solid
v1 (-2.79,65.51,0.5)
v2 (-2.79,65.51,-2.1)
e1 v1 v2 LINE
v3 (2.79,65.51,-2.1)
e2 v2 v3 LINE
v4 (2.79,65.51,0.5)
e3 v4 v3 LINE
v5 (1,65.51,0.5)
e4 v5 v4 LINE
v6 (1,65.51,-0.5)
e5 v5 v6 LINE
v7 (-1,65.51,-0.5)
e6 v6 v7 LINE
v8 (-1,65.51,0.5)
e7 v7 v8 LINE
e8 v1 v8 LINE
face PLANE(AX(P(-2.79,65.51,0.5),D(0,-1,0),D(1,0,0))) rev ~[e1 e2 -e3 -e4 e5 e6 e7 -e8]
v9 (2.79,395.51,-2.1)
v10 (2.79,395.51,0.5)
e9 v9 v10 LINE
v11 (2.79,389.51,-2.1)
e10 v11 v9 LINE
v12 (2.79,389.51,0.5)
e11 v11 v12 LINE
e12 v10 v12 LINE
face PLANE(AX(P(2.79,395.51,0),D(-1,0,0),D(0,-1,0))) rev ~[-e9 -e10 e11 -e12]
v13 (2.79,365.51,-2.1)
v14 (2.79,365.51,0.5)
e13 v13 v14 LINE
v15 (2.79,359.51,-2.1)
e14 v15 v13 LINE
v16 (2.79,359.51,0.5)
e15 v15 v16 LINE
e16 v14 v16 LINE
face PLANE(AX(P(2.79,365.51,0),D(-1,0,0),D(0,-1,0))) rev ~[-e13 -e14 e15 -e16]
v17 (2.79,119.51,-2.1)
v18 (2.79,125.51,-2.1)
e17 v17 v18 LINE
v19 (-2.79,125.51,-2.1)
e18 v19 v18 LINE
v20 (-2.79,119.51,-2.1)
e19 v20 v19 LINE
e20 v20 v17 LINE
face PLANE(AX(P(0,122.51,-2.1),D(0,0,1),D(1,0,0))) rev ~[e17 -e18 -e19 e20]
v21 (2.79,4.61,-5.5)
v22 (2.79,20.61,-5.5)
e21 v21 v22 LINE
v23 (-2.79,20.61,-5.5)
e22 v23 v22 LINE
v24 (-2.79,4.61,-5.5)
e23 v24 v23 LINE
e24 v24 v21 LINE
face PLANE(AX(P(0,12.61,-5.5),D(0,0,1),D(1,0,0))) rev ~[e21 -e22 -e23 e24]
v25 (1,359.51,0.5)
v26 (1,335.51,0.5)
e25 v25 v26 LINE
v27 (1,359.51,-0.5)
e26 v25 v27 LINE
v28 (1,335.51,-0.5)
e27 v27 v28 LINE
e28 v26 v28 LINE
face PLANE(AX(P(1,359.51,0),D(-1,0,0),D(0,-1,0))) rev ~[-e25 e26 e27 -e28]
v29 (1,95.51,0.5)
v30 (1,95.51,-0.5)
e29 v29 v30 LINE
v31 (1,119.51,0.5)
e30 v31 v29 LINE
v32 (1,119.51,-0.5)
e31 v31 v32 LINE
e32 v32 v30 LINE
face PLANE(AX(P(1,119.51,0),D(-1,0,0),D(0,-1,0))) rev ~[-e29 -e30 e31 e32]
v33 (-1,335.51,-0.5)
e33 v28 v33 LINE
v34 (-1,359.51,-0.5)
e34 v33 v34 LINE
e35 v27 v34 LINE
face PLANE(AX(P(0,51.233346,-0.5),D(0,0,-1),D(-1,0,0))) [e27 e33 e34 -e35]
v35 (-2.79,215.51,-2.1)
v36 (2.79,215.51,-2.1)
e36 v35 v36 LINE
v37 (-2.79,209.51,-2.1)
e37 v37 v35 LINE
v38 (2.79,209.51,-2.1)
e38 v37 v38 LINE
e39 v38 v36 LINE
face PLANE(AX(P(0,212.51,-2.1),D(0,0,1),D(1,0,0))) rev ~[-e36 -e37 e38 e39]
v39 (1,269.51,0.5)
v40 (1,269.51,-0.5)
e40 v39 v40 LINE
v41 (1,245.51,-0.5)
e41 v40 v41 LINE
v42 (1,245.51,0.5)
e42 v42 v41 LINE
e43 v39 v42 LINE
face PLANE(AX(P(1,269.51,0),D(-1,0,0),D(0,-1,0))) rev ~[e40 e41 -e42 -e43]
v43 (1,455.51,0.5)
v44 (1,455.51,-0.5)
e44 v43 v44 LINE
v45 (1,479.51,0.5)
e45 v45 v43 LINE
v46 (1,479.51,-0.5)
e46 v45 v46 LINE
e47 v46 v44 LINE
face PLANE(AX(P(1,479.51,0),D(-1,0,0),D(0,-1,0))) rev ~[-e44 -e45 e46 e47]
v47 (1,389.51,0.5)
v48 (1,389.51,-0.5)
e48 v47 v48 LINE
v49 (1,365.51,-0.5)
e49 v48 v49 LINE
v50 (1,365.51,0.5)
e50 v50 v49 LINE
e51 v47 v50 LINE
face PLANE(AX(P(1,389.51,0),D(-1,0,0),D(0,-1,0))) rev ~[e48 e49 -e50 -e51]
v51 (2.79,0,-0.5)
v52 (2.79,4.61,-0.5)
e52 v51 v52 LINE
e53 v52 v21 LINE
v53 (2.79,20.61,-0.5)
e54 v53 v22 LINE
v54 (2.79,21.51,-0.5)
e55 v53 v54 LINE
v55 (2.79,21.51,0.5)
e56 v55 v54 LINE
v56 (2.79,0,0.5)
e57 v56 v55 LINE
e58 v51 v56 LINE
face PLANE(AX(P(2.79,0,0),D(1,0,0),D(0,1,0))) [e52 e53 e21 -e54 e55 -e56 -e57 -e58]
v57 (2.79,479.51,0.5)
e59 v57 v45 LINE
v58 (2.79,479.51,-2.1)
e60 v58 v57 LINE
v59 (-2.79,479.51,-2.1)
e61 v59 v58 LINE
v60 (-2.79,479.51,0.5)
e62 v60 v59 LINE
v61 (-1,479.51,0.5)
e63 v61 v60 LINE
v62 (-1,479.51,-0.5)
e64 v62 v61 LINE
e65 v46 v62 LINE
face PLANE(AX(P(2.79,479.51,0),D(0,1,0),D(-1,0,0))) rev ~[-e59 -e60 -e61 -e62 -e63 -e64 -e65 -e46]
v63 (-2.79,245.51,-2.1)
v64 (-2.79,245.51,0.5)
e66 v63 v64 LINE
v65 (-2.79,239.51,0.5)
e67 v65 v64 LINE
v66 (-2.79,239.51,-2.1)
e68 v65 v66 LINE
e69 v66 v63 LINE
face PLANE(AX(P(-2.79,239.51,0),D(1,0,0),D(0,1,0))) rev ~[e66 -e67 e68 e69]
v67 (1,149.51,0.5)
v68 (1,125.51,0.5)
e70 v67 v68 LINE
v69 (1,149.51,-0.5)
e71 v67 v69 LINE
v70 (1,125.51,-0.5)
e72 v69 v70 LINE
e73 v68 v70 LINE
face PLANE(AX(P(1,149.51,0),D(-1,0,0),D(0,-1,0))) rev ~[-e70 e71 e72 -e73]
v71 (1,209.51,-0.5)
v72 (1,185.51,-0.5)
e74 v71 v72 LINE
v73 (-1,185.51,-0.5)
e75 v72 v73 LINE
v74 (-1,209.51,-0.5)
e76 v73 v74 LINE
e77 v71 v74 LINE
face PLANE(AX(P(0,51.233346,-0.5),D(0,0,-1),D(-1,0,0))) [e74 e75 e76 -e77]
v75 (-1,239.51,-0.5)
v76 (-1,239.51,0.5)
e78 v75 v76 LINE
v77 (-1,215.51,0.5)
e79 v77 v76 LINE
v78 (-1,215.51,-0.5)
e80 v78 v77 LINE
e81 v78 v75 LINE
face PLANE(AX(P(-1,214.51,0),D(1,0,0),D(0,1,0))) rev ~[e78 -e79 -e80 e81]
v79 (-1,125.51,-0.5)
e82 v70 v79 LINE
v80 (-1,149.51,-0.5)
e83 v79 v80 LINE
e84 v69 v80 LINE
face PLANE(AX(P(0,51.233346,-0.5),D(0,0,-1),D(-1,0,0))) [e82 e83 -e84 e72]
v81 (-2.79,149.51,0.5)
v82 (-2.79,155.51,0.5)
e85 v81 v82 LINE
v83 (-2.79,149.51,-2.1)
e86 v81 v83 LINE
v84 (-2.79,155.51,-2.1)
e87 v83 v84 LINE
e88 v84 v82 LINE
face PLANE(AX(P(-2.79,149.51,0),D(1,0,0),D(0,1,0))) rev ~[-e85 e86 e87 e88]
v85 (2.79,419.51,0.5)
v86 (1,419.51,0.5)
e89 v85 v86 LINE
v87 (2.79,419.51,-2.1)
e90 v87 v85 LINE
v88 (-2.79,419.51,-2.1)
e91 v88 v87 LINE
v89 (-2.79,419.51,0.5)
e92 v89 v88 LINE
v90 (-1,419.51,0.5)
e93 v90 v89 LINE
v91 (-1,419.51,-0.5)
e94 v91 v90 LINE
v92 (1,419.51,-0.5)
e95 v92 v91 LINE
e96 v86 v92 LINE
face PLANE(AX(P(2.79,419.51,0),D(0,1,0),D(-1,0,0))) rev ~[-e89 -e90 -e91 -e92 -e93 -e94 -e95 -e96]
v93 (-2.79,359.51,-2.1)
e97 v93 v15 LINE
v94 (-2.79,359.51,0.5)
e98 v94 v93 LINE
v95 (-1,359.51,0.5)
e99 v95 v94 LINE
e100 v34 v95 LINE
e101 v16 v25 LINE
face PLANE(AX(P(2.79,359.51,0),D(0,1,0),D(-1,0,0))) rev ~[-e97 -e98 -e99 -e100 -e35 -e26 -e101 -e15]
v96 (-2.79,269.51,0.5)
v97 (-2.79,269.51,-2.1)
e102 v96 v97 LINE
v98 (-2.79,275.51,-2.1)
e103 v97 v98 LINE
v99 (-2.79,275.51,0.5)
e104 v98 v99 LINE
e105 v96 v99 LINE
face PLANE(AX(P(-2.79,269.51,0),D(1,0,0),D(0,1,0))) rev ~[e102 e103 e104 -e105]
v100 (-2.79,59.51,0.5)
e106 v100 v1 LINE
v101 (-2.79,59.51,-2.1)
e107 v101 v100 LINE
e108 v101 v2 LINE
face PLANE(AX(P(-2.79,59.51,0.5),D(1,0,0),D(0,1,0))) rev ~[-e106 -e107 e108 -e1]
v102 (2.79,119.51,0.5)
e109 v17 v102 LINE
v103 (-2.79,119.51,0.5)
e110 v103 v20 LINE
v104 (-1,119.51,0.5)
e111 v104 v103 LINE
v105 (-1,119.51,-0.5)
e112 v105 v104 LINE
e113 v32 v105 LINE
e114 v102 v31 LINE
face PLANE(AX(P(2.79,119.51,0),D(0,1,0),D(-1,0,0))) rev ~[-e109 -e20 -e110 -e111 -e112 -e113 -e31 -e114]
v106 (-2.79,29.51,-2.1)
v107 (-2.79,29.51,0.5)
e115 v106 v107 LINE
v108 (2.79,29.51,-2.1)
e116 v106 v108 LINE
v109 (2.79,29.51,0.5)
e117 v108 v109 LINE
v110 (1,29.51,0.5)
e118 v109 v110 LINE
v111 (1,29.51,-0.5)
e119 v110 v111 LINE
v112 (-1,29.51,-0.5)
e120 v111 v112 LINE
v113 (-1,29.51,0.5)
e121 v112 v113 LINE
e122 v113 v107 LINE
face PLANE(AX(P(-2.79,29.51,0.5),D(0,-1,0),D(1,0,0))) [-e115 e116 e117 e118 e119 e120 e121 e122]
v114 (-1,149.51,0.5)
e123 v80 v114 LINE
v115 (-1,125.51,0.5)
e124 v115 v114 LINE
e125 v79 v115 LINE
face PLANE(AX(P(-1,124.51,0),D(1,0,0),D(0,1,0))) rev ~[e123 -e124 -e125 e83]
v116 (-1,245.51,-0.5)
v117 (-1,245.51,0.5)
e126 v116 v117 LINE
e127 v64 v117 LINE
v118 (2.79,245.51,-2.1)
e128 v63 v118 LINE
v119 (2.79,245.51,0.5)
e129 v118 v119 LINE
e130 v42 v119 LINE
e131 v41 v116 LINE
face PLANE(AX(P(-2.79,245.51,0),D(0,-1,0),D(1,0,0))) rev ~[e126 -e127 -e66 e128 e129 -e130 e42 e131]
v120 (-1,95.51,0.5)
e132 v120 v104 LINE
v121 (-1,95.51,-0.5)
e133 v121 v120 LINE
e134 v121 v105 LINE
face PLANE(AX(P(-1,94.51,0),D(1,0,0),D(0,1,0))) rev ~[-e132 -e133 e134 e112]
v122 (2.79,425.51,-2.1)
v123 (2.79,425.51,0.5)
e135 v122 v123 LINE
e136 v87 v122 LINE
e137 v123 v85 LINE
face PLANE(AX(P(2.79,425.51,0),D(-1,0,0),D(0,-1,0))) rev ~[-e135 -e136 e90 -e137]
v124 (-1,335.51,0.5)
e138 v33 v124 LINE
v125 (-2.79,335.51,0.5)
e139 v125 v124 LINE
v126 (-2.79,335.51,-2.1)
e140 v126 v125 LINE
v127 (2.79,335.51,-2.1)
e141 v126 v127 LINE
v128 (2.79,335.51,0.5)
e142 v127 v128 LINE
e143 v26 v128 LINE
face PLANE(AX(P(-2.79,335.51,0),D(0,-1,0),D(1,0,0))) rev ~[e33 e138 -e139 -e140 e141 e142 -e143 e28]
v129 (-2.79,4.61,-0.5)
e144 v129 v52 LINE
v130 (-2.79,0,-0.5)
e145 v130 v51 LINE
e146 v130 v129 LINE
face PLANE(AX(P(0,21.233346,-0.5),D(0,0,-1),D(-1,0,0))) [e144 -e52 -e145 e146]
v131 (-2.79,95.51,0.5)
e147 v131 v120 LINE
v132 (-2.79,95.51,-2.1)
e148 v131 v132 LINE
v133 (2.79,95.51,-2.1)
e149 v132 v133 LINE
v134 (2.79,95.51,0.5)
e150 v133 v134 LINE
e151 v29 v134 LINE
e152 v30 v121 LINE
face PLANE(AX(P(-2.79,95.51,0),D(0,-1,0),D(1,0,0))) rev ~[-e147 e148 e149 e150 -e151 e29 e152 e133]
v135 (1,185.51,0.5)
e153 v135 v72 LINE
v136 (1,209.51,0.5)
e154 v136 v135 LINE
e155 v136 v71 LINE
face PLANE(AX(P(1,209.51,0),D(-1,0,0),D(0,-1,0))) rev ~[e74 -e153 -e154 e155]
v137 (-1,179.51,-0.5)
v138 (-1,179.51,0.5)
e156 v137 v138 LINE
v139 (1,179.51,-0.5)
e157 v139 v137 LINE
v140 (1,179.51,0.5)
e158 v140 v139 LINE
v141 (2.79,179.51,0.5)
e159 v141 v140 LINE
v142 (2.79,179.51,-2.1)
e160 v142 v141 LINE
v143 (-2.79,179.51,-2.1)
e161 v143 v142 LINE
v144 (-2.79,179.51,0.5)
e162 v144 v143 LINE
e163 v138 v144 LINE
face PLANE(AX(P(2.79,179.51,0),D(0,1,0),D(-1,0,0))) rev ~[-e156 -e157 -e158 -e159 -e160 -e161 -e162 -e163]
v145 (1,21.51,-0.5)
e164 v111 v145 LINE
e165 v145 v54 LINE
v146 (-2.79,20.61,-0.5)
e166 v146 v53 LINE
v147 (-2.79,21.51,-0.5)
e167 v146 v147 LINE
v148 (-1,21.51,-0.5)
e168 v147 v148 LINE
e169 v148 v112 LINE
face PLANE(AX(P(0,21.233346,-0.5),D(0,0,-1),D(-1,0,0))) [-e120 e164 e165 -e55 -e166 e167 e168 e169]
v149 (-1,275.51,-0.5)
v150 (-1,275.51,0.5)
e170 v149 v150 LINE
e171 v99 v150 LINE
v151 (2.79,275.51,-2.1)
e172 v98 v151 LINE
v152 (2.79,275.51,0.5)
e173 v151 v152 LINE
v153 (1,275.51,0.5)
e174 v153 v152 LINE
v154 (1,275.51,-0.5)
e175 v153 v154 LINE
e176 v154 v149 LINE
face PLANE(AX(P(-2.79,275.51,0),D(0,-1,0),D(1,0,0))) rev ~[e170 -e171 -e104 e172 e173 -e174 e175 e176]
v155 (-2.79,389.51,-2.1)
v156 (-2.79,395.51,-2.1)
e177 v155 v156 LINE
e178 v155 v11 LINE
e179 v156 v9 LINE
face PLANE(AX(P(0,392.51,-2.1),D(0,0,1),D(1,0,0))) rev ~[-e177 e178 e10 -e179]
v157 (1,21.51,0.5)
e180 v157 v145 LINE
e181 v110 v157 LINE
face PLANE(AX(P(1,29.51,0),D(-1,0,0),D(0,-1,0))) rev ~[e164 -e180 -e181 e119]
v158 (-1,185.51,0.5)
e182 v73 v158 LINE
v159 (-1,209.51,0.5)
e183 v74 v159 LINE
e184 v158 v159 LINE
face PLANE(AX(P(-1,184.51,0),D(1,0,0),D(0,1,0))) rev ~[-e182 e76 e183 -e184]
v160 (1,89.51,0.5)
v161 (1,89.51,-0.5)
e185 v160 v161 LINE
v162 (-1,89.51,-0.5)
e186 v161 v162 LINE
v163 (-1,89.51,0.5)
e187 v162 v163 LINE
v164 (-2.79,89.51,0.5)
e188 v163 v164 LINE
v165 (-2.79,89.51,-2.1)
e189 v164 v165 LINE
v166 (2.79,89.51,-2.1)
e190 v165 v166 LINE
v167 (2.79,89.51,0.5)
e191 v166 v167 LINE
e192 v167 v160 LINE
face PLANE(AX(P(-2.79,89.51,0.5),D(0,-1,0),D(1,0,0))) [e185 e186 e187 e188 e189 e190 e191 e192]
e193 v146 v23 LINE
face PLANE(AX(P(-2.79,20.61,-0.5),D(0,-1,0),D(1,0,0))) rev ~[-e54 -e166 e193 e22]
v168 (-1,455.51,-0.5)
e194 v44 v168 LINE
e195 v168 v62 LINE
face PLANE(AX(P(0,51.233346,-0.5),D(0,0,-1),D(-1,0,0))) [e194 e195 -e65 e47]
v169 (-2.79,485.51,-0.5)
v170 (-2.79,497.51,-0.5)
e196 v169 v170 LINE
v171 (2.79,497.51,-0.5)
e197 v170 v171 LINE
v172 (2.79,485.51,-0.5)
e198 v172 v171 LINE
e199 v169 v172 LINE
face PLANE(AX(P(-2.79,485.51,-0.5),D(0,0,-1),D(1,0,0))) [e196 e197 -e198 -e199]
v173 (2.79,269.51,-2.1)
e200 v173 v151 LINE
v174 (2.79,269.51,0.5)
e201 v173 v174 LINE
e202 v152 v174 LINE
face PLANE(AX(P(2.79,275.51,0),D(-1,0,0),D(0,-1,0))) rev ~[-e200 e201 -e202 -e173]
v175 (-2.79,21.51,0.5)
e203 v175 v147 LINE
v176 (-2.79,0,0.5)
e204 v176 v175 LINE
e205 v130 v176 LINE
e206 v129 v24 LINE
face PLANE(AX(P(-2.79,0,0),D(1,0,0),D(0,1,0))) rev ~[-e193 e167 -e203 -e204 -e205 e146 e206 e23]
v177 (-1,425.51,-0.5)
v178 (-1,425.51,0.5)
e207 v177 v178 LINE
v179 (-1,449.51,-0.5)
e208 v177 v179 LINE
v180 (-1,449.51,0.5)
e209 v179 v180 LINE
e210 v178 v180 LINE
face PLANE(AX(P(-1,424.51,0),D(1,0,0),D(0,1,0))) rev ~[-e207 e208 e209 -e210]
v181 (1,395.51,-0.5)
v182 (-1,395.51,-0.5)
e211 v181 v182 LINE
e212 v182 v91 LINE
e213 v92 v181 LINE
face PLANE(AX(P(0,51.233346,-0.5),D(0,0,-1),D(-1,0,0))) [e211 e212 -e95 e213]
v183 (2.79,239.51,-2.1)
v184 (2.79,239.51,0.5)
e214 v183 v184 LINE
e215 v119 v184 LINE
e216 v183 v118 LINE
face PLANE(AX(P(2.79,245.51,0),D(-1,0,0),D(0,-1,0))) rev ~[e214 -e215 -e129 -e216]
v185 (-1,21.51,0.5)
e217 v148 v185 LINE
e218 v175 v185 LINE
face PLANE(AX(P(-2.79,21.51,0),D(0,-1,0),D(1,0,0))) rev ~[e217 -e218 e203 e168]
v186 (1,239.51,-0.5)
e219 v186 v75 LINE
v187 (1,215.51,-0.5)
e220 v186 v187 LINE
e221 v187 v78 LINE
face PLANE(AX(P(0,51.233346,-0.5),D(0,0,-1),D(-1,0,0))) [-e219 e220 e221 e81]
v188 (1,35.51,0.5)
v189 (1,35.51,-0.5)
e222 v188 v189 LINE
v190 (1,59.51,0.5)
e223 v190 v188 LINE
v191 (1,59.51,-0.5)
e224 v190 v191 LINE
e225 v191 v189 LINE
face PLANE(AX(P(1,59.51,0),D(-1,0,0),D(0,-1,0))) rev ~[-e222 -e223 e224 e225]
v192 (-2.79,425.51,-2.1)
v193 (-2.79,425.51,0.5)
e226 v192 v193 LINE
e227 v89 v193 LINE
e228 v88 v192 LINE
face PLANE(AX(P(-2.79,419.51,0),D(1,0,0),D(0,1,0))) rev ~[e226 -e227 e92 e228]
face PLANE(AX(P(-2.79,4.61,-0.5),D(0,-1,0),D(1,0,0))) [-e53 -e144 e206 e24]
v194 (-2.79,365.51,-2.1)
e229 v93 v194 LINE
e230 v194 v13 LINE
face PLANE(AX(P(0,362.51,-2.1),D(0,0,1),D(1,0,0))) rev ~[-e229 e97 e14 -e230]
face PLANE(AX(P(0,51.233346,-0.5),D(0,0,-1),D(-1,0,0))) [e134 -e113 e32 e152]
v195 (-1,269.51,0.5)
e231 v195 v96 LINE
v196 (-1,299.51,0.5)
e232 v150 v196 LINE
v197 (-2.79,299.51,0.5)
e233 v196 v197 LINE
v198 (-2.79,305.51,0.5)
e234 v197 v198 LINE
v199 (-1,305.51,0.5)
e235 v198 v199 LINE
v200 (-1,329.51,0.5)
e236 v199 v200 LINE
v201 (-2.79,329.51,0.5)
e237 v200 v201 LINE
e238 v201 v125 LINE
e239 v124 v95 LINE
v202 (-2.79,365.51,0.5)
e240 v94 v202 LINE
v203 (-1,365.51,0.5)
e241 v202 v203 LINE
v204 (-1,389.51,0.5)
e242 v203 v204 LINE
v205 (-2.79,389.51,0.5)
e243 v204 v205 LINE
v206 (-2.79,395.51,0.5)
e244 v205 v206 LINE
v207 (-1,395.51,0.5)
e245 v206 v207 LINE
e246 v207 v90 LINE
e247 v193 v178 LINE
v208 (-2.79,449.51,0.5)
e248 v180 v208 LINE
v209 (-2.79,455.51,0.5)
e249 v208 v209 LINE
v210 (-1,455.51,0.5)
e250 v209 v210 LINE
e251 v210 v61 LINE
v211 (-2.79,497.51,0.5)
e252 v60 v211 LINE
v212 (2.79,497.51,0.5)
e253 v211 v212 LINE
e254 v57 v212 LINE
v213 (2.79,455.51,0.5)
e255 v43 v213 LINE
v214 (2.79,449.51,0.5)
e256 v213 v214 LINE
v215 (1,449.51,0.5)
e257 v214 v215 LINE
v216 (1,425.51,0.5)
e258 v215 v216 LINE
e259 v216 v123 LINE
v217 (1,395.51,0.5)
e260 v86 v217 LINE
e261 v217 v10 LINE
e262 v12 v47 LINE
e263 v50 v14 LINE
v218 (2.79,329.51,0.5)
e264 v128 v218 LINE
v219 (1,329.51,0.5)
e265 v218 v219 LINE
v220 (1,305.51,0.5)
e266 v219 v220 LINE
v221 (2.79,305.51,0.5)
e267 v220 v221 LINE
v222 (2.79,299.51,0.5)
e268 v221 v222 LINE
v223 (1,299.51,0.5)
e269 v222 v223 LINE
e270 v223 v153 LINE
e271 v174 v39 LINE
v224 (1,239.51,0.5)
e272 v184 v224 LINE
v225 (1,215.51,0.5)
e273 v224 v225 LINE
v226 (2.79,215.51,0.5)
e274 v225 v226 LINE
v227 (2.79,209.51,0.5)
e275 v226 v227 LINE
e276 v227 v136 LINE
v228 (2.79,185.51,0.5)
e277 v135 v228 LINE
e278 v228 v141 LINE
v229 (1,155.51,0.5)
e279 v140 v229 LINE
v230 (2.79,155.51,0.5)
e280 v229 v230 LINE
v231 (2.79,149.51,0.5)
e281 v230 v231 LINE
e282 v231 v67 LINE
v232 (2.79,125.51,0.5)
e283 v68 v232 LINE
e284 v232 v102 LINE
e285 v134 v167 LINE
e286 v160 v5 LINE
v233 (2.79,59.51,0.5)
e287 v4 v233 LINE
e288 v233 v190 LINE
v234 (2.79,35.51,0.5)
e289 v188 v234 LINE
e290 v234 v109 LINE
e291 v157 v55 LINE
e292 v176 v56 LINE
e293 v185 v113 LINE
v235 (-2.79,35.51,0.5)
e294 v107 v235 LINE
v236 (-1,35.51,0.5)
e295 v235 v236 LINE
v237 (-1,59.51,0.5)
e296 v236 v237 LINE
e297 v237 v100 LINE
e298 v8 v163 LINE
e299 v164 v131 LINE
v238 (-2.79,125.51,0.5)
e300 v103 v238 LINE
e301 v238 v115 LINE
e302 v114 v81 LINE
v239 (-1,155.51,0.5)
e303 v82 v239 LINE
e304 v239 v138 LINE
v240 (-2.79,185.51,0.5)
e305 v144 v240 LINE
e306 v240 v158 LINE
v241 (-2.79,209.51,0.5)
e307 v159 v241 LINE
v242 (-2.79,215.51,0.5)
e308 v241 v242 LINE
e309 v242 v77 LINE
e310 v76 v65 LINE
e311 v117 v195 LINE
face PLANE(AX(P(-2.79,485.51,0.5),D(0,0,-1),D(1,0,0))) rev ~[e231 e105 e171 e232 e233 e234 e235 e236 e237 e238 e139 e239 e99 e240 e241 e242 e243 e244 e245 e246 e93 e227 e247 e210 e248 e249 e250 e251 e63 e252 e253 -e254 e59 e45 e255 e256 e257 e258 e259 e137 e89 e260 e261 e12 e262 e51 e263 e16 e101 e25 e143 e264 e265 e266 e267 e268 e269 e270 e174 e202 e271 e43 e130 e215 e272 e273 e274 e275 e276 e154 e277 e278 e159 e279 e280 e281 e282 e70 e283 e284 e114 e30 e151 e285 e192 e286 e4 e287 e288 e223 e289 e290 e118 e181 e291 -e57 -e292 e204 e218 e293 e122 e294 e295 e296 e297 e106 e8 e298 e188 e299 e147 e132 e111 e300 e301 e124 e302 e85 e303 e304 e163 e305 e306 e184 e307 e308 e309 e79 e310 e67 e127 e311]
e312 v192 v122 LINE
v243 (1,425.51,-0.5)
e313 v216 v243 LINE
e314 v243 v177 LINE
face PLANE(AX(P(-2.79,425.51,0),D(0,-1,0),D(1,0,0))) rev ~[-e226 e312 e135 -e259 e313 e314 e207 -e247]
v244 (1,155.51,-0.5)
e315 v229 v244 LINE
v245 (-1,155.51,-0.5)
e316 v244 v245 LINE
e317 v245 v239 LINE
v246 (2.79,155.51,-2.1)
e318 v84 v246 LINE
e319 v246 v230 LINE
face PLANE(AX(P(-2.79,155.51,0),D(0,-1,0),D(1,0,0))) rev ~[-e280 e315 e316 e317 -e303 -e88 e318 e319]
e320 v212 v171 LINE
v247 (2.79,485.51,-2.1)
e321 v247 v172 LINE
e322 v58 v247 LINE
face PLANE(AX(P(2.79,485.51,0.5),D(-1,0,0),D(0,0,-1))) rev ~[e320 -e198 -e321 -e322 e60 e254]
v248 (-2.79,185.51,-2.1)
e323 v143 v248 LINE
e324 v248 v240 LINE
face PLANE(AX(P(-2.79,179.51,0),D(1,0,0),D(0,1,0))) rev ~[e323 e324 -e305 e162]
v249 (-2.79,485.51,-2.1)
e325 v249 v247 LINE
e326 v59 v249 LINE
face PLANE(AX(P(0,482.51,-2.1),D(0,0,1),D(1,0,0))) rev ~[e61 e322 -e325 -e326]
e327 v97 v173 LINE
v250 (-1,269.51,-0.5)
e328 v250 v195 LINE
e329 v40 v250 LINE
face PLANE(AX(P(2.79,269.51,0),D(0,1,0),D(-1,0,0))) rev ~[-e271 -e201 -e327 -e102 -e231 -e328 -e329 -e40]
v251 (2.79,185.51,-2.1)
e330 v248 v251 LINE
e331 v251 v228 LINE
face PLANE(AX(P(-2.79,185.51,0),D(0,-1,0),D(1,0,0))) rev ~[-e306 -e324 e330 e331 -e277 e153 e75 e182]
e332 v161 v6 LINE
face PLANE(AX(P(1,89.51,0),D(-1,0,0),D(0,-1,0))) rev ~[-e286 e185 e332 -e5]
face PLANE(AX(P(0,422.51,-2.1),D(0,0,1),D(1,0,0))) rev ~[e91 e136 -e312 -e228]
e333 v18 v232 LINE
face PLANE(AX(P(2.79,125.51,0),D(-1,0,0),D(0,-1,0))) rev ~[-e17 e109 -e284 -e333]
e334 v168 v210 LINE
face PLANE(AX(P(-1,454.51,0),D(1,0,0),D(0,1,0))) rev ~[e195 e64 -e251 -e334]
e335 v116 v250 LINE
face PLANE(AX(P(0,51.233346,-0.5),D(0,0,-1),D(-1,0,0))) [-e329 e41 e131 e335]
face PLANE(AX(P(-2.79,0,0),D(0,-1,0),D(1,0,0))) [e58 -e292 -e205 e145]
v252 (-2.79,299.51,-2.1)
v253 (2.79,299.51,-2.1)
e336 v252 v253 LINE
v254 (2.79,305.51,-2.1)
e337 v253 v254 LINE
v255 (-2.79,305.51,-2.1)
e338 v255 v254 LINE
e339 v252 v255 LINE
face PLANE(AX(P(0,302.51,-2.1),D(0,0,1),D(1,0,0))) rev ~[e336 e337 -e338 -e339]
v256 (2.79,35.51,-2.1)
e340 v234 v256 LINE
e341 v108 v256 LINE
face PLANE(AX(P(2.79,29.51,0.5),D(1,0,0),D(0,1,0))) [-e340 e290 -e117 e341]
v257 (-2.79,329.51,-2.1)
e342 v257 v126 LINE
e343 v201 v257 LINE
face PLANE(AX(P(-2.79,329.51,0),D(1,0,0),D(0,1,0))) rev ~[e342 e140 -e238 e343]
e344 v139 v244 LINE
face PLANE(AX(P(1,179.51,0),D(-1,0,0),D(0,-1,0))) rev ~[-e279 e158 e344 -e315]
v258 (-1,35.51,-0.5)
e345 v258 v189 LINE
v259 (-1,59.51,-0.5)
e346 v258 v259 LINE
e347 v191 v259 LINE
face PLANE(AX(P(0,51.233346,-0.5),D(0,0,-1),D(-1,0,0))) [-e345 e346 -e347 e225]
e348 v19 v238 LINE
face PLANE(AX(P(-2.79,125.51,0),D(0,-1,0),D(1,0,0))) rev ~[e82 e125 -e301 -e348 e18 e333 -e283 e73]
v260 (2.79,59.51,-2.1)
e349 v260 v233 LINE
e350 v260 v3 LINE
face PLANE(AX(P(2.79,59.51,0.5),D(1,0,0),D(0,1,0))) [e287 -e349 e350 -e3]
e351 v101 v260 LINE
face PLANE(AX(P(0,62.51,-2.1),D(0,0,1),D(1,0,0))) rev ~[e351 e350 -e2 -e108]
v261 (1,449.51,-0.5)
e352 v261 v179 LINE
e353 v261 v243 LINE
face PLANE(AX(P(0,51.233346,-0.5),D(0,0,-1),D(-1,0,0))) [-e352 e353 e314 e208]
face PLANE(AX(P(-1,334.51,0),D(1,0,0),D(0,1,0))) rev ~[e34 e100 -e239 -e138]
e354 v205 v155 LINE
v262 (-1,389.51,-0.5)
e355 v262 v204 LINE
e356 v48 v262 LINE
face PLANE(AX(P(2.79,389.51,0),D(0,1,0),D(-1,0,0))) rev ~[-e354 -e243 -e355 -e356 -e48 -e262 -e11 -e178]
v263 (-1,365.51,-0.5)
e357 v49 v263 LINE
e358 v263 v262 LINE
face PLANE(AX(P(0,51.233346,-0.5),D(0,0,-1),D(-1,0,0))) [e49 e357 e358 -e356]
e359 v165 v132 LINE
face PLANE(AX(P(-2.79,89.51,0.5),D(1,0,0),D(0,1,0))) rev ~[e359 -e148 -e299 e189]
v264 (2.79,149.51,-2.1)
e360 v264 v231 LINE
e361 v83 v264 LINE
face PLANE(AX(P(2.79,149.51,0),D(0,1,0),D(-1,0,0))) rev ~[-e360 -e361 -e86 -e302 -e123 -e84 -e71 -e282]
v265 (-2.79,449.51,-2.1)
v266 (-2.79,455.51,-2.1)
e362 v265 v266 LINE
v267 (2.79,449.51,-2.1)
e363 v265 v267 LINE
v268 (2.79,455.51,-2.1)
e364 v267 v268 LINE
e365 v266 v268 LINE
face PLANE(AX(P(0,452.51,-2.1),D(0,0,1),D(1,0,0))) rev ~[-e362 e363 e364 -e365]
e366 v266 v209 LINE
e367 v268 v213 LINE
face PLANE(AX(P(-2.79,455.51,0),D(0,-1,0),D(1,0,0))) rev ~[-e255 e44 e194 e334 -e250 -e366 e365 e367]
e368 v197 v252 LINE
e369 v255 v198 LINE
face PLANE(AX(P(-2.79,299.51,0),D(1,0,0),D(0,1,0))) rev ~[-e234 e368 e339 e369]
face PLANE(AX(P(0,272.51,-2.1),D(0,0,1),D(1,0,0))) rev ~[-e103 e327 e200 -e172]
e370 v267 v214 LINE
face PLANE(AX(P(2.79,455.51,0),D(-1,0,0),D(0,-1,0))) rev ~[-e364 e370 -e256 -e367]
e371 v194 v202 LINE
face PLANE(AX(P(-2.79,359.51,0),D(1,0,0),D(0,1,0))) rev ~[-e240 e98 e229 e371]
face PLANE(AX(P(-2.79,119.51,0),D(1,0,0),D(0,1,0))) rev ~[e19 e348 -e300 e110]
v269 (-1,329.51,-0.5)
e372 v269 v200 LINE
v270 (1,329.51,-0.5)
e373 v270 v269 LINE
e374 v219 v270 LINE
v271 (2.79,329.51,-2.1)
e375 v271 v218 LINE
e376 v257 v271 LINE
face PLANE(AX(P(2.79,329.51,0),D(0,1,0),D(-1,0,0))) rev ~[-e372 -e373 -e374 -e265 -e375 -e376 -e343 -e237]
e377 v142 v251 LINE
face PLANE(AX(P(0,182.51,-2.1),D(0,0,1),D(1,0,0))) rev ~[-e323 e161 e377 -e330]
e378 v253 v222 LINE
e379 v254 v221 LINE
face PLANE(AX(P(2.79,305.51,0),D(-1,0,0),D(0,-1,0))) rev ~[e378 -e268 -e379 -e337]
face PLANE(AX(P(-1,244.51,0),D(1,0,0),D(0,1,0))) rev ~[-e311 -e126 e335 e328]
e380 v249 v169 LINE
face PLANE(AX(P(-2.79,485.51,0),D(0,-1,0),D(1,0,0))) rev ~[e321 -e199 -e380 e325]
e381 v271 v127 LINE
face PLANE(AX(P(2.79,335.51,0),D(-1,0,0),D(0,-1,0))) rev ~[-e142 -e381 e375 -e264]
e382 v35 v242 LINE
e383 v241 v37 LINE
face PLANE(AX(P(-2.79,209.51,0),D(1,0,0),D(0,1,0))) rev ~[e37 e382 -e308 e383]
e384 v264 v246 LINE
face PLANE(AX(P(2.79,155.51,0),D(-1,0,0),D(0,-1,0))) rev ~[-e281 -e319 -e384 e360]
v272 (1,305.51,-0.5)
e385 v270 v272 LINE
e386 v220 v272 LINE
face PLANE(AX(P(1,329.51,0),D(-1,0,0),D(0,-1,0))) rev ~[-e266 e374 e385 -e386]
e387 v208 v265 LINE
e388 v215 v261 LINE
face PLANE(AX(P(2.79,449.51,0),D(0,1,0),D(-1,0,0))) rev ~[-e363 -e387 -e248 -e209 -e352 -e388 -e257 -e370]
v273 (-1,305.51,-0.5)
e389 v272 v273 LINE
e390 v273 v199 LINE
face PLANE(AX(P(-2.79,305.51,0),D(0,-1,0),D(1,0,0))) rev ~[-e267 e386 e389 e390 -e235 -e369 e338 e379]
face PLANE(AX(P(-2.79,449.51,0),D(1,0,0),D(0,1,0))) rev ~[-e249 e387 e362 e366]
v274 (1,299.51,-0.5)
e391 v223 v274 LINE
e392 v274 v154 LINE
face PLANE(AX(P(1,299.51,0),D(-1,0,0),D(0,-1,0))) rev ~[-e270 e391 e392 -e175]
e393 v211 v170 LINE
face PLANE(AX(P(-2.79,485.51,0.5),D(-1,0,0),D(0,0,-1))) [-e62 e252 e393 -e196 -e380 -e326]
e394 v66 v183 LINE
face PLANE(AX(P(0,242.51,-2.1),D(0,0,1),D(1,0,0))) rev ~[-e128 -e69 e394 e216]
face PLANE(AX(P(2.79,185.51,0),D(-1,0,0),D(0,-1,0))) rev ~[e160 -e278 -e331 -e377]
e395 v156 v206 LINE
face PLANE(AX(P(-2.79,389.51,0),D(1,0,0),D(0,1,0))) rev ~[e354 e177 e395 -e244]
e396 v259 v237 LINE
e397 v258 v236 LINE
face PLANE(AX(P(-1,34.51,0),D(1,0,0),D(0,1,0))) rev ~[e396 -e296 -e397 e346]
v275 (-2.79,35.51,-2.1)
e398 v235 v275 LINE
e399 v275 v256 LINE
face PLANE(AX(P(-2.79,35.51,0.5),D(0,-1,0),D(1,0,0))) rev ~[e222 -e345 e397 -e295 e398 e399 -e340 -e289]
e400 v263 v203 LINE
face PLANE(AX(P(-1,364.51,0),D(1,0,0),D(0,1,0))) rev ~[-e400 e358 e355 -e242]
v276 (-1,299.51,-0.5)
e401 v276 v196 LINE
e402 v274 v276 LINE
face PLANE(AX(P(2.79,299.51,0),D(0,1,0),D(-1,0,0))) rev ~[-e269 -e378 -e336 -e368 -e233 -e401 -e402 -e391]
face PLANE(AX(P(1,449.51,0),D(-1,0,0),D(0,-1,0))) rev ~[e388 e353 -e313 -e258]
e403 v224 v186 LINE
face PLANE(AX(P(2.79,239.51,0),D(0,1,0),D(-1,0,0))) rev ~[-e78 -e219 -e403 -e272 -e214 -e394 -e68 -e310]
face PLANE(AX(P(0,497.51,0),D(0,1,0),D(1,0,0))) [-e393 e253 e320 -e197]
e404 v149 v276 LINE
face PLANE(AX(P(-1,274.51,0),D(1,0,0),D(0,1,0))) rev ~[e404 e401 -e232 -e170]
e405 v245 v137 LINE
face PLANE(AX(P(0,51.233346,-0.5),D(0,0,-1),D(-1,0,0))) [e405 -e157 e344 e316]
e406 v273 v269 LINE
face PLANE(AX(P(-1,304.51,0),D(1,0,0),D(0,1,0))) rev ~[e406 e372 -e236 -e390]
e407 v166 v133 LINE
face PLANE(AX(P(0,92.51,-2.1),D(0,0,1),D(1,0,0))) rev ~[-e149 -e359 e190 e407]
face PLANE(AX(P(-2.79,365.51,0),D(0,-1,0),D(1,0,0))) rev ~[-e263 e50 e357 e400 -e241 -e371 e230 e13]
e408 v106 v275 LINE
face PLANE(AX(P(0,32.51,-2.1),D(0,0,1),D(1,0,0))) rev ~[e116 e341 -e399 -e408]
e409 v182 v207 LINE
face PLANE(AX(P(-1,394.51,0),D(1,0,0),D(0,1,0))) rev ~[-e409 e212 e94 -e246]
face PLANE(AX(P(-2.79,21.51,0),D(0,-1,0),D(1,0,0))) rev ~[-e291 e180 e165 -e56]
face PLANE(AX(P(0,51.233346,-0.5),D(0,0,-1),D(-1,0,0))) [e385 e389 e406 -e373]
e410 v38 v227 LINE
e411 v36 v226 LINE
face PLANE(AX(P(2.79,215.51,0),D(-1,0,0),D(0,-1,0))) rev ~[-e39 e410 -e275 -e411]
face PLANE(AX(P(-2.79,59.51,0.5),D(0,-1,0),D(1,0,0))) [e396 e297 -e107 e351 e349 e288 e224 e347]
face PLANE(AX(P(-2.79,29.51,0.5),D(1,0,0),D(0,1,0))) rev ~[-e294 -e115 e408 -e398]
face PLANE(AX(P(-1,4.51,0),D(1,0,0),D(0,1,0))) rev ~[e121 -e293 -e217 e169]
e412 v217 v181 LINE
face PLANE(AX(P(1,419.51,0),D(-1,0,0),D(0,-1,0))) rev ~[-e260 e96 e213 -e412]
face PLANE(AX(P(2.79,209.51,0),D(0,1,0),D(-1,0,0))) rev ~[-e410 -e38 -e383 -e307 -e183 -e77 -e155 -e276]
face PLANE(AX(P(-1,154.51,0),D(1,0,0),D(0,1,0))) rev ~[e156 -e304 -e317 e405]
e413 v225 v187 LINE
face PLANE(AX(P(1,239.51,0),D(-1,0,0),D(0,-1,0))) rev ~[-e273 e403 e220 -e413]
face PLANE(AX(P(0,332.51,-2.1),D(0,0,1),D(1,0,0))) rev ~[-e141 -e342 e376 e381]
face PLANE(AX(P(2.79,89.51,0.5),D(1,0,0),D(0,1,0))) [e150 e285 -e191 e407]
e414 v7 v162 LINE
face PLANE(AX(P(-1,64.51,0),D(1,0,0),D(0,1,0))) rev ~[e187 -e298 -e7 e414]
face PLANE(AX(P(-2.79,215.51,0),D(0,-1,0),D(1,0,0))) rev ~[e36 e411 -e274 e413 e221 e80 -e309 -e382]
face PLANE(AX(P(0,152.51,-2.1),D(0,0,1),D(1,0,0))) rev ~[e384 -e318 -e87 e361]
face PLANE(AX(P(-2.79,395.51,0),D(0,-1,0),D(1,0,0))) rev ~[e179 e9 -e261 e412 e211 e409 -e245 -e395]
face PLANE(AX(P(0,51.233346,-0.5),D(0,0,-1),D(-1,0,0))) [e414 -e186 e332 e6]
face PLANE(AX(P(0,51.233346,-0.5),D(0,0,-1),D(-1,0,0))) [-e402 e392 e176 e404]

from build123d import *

# Parameters (mm, degrees)
SKETCH2_W           = 5.58
SKETCH2_H           = 21.51
BOSS_EXTRUDE1_DEPTH = 0.5
BOSS_EXTRUDE2_DEPTH = 0.5
SKETCH4_W           = 5.58
SKETCH4_H           = 6
BOSS_EXTRUDE3_DEPTH = 2.6
LPATTERN1_COUNT     = 16
LPATTERN1_PITCH     = 30
SKETCH5_W           = 5.58
SKETCH5_H           = 1
BOSS_EXTRUDE4_DEPTH = 12
SKETCH9_W           = 5.58
SKETCH9_H           = 16
BOSS_EXTRUDE6_DEPTH = 5


with BuildPart() as part:
    # Sketch2 → Boss-Extrude1 (new body, symmetric)
    with BuildSketch(Plane.XY):
        with Locations((0, 10.755)):
            Rectangle(SKETCH2_W, SKETCH2_H)
    extrude(amount=BOSS_EXTRUDE1_DEPTH, both=True)

    # Sketch3 → Boss-Extrude2 (add, symmetric)
    with BuildSketch(Plane.XY):
        Polygon((-2.79, 35.51), (2.79, 35.51), (2.79, 29.51), (1, 29.51), (1, 4.51), (-1, 4.51), (-1, 29.51), (-2.79, 29.51), align=None)
    boss_extrude2 = extrude(amount=BOSS_EXTRUDE2_DEPTH, both=True)

    # Sketch4 → Boss-Extrude3 (add)
    with BuildSketch(Plane.XY.offset(0.5)):
        with Locations((0, 32.51)):
            Rectangle(SKETCH4_W, SKETCH4_H)
    boss_extrude3 = extrude(amount=-BOSS_EXTRUDE3_DEPTH)

    # LPattern1: Boss-Extrude2, Boss-Extrude3 ×16
    with Locations(*[(0, i * LPATTERN1_PITCH, 0) for i in range(1, LPATTERN1_COUNT)]):
        add(boss_extrude2)
        add(boss_extrude3)

    # Sketch5 → Boss-Extrude4 (add)
    with BuildSketch(Plane(origin=(0, 485.51, 0), x_dir=(1, 0, 0), z_dir=(0, 1, 0))):
        Rectangle(SKETCH5_W, SKETCH5_H)
    extrude(amount=BOSS_EXTRUDE4_DEPTH)

    # Sketch9 → Boss-Extrude6 (add)
    with BuildSketch(Plane.XY.offset(-0.5)):
        with Locations((0, 12.61)):
            Rectangle(SKETCH9_W, SKETCH9_H)
    extrude(amount=-BOSS_EXTRUDE6_DEPTH)


solid = part.part
